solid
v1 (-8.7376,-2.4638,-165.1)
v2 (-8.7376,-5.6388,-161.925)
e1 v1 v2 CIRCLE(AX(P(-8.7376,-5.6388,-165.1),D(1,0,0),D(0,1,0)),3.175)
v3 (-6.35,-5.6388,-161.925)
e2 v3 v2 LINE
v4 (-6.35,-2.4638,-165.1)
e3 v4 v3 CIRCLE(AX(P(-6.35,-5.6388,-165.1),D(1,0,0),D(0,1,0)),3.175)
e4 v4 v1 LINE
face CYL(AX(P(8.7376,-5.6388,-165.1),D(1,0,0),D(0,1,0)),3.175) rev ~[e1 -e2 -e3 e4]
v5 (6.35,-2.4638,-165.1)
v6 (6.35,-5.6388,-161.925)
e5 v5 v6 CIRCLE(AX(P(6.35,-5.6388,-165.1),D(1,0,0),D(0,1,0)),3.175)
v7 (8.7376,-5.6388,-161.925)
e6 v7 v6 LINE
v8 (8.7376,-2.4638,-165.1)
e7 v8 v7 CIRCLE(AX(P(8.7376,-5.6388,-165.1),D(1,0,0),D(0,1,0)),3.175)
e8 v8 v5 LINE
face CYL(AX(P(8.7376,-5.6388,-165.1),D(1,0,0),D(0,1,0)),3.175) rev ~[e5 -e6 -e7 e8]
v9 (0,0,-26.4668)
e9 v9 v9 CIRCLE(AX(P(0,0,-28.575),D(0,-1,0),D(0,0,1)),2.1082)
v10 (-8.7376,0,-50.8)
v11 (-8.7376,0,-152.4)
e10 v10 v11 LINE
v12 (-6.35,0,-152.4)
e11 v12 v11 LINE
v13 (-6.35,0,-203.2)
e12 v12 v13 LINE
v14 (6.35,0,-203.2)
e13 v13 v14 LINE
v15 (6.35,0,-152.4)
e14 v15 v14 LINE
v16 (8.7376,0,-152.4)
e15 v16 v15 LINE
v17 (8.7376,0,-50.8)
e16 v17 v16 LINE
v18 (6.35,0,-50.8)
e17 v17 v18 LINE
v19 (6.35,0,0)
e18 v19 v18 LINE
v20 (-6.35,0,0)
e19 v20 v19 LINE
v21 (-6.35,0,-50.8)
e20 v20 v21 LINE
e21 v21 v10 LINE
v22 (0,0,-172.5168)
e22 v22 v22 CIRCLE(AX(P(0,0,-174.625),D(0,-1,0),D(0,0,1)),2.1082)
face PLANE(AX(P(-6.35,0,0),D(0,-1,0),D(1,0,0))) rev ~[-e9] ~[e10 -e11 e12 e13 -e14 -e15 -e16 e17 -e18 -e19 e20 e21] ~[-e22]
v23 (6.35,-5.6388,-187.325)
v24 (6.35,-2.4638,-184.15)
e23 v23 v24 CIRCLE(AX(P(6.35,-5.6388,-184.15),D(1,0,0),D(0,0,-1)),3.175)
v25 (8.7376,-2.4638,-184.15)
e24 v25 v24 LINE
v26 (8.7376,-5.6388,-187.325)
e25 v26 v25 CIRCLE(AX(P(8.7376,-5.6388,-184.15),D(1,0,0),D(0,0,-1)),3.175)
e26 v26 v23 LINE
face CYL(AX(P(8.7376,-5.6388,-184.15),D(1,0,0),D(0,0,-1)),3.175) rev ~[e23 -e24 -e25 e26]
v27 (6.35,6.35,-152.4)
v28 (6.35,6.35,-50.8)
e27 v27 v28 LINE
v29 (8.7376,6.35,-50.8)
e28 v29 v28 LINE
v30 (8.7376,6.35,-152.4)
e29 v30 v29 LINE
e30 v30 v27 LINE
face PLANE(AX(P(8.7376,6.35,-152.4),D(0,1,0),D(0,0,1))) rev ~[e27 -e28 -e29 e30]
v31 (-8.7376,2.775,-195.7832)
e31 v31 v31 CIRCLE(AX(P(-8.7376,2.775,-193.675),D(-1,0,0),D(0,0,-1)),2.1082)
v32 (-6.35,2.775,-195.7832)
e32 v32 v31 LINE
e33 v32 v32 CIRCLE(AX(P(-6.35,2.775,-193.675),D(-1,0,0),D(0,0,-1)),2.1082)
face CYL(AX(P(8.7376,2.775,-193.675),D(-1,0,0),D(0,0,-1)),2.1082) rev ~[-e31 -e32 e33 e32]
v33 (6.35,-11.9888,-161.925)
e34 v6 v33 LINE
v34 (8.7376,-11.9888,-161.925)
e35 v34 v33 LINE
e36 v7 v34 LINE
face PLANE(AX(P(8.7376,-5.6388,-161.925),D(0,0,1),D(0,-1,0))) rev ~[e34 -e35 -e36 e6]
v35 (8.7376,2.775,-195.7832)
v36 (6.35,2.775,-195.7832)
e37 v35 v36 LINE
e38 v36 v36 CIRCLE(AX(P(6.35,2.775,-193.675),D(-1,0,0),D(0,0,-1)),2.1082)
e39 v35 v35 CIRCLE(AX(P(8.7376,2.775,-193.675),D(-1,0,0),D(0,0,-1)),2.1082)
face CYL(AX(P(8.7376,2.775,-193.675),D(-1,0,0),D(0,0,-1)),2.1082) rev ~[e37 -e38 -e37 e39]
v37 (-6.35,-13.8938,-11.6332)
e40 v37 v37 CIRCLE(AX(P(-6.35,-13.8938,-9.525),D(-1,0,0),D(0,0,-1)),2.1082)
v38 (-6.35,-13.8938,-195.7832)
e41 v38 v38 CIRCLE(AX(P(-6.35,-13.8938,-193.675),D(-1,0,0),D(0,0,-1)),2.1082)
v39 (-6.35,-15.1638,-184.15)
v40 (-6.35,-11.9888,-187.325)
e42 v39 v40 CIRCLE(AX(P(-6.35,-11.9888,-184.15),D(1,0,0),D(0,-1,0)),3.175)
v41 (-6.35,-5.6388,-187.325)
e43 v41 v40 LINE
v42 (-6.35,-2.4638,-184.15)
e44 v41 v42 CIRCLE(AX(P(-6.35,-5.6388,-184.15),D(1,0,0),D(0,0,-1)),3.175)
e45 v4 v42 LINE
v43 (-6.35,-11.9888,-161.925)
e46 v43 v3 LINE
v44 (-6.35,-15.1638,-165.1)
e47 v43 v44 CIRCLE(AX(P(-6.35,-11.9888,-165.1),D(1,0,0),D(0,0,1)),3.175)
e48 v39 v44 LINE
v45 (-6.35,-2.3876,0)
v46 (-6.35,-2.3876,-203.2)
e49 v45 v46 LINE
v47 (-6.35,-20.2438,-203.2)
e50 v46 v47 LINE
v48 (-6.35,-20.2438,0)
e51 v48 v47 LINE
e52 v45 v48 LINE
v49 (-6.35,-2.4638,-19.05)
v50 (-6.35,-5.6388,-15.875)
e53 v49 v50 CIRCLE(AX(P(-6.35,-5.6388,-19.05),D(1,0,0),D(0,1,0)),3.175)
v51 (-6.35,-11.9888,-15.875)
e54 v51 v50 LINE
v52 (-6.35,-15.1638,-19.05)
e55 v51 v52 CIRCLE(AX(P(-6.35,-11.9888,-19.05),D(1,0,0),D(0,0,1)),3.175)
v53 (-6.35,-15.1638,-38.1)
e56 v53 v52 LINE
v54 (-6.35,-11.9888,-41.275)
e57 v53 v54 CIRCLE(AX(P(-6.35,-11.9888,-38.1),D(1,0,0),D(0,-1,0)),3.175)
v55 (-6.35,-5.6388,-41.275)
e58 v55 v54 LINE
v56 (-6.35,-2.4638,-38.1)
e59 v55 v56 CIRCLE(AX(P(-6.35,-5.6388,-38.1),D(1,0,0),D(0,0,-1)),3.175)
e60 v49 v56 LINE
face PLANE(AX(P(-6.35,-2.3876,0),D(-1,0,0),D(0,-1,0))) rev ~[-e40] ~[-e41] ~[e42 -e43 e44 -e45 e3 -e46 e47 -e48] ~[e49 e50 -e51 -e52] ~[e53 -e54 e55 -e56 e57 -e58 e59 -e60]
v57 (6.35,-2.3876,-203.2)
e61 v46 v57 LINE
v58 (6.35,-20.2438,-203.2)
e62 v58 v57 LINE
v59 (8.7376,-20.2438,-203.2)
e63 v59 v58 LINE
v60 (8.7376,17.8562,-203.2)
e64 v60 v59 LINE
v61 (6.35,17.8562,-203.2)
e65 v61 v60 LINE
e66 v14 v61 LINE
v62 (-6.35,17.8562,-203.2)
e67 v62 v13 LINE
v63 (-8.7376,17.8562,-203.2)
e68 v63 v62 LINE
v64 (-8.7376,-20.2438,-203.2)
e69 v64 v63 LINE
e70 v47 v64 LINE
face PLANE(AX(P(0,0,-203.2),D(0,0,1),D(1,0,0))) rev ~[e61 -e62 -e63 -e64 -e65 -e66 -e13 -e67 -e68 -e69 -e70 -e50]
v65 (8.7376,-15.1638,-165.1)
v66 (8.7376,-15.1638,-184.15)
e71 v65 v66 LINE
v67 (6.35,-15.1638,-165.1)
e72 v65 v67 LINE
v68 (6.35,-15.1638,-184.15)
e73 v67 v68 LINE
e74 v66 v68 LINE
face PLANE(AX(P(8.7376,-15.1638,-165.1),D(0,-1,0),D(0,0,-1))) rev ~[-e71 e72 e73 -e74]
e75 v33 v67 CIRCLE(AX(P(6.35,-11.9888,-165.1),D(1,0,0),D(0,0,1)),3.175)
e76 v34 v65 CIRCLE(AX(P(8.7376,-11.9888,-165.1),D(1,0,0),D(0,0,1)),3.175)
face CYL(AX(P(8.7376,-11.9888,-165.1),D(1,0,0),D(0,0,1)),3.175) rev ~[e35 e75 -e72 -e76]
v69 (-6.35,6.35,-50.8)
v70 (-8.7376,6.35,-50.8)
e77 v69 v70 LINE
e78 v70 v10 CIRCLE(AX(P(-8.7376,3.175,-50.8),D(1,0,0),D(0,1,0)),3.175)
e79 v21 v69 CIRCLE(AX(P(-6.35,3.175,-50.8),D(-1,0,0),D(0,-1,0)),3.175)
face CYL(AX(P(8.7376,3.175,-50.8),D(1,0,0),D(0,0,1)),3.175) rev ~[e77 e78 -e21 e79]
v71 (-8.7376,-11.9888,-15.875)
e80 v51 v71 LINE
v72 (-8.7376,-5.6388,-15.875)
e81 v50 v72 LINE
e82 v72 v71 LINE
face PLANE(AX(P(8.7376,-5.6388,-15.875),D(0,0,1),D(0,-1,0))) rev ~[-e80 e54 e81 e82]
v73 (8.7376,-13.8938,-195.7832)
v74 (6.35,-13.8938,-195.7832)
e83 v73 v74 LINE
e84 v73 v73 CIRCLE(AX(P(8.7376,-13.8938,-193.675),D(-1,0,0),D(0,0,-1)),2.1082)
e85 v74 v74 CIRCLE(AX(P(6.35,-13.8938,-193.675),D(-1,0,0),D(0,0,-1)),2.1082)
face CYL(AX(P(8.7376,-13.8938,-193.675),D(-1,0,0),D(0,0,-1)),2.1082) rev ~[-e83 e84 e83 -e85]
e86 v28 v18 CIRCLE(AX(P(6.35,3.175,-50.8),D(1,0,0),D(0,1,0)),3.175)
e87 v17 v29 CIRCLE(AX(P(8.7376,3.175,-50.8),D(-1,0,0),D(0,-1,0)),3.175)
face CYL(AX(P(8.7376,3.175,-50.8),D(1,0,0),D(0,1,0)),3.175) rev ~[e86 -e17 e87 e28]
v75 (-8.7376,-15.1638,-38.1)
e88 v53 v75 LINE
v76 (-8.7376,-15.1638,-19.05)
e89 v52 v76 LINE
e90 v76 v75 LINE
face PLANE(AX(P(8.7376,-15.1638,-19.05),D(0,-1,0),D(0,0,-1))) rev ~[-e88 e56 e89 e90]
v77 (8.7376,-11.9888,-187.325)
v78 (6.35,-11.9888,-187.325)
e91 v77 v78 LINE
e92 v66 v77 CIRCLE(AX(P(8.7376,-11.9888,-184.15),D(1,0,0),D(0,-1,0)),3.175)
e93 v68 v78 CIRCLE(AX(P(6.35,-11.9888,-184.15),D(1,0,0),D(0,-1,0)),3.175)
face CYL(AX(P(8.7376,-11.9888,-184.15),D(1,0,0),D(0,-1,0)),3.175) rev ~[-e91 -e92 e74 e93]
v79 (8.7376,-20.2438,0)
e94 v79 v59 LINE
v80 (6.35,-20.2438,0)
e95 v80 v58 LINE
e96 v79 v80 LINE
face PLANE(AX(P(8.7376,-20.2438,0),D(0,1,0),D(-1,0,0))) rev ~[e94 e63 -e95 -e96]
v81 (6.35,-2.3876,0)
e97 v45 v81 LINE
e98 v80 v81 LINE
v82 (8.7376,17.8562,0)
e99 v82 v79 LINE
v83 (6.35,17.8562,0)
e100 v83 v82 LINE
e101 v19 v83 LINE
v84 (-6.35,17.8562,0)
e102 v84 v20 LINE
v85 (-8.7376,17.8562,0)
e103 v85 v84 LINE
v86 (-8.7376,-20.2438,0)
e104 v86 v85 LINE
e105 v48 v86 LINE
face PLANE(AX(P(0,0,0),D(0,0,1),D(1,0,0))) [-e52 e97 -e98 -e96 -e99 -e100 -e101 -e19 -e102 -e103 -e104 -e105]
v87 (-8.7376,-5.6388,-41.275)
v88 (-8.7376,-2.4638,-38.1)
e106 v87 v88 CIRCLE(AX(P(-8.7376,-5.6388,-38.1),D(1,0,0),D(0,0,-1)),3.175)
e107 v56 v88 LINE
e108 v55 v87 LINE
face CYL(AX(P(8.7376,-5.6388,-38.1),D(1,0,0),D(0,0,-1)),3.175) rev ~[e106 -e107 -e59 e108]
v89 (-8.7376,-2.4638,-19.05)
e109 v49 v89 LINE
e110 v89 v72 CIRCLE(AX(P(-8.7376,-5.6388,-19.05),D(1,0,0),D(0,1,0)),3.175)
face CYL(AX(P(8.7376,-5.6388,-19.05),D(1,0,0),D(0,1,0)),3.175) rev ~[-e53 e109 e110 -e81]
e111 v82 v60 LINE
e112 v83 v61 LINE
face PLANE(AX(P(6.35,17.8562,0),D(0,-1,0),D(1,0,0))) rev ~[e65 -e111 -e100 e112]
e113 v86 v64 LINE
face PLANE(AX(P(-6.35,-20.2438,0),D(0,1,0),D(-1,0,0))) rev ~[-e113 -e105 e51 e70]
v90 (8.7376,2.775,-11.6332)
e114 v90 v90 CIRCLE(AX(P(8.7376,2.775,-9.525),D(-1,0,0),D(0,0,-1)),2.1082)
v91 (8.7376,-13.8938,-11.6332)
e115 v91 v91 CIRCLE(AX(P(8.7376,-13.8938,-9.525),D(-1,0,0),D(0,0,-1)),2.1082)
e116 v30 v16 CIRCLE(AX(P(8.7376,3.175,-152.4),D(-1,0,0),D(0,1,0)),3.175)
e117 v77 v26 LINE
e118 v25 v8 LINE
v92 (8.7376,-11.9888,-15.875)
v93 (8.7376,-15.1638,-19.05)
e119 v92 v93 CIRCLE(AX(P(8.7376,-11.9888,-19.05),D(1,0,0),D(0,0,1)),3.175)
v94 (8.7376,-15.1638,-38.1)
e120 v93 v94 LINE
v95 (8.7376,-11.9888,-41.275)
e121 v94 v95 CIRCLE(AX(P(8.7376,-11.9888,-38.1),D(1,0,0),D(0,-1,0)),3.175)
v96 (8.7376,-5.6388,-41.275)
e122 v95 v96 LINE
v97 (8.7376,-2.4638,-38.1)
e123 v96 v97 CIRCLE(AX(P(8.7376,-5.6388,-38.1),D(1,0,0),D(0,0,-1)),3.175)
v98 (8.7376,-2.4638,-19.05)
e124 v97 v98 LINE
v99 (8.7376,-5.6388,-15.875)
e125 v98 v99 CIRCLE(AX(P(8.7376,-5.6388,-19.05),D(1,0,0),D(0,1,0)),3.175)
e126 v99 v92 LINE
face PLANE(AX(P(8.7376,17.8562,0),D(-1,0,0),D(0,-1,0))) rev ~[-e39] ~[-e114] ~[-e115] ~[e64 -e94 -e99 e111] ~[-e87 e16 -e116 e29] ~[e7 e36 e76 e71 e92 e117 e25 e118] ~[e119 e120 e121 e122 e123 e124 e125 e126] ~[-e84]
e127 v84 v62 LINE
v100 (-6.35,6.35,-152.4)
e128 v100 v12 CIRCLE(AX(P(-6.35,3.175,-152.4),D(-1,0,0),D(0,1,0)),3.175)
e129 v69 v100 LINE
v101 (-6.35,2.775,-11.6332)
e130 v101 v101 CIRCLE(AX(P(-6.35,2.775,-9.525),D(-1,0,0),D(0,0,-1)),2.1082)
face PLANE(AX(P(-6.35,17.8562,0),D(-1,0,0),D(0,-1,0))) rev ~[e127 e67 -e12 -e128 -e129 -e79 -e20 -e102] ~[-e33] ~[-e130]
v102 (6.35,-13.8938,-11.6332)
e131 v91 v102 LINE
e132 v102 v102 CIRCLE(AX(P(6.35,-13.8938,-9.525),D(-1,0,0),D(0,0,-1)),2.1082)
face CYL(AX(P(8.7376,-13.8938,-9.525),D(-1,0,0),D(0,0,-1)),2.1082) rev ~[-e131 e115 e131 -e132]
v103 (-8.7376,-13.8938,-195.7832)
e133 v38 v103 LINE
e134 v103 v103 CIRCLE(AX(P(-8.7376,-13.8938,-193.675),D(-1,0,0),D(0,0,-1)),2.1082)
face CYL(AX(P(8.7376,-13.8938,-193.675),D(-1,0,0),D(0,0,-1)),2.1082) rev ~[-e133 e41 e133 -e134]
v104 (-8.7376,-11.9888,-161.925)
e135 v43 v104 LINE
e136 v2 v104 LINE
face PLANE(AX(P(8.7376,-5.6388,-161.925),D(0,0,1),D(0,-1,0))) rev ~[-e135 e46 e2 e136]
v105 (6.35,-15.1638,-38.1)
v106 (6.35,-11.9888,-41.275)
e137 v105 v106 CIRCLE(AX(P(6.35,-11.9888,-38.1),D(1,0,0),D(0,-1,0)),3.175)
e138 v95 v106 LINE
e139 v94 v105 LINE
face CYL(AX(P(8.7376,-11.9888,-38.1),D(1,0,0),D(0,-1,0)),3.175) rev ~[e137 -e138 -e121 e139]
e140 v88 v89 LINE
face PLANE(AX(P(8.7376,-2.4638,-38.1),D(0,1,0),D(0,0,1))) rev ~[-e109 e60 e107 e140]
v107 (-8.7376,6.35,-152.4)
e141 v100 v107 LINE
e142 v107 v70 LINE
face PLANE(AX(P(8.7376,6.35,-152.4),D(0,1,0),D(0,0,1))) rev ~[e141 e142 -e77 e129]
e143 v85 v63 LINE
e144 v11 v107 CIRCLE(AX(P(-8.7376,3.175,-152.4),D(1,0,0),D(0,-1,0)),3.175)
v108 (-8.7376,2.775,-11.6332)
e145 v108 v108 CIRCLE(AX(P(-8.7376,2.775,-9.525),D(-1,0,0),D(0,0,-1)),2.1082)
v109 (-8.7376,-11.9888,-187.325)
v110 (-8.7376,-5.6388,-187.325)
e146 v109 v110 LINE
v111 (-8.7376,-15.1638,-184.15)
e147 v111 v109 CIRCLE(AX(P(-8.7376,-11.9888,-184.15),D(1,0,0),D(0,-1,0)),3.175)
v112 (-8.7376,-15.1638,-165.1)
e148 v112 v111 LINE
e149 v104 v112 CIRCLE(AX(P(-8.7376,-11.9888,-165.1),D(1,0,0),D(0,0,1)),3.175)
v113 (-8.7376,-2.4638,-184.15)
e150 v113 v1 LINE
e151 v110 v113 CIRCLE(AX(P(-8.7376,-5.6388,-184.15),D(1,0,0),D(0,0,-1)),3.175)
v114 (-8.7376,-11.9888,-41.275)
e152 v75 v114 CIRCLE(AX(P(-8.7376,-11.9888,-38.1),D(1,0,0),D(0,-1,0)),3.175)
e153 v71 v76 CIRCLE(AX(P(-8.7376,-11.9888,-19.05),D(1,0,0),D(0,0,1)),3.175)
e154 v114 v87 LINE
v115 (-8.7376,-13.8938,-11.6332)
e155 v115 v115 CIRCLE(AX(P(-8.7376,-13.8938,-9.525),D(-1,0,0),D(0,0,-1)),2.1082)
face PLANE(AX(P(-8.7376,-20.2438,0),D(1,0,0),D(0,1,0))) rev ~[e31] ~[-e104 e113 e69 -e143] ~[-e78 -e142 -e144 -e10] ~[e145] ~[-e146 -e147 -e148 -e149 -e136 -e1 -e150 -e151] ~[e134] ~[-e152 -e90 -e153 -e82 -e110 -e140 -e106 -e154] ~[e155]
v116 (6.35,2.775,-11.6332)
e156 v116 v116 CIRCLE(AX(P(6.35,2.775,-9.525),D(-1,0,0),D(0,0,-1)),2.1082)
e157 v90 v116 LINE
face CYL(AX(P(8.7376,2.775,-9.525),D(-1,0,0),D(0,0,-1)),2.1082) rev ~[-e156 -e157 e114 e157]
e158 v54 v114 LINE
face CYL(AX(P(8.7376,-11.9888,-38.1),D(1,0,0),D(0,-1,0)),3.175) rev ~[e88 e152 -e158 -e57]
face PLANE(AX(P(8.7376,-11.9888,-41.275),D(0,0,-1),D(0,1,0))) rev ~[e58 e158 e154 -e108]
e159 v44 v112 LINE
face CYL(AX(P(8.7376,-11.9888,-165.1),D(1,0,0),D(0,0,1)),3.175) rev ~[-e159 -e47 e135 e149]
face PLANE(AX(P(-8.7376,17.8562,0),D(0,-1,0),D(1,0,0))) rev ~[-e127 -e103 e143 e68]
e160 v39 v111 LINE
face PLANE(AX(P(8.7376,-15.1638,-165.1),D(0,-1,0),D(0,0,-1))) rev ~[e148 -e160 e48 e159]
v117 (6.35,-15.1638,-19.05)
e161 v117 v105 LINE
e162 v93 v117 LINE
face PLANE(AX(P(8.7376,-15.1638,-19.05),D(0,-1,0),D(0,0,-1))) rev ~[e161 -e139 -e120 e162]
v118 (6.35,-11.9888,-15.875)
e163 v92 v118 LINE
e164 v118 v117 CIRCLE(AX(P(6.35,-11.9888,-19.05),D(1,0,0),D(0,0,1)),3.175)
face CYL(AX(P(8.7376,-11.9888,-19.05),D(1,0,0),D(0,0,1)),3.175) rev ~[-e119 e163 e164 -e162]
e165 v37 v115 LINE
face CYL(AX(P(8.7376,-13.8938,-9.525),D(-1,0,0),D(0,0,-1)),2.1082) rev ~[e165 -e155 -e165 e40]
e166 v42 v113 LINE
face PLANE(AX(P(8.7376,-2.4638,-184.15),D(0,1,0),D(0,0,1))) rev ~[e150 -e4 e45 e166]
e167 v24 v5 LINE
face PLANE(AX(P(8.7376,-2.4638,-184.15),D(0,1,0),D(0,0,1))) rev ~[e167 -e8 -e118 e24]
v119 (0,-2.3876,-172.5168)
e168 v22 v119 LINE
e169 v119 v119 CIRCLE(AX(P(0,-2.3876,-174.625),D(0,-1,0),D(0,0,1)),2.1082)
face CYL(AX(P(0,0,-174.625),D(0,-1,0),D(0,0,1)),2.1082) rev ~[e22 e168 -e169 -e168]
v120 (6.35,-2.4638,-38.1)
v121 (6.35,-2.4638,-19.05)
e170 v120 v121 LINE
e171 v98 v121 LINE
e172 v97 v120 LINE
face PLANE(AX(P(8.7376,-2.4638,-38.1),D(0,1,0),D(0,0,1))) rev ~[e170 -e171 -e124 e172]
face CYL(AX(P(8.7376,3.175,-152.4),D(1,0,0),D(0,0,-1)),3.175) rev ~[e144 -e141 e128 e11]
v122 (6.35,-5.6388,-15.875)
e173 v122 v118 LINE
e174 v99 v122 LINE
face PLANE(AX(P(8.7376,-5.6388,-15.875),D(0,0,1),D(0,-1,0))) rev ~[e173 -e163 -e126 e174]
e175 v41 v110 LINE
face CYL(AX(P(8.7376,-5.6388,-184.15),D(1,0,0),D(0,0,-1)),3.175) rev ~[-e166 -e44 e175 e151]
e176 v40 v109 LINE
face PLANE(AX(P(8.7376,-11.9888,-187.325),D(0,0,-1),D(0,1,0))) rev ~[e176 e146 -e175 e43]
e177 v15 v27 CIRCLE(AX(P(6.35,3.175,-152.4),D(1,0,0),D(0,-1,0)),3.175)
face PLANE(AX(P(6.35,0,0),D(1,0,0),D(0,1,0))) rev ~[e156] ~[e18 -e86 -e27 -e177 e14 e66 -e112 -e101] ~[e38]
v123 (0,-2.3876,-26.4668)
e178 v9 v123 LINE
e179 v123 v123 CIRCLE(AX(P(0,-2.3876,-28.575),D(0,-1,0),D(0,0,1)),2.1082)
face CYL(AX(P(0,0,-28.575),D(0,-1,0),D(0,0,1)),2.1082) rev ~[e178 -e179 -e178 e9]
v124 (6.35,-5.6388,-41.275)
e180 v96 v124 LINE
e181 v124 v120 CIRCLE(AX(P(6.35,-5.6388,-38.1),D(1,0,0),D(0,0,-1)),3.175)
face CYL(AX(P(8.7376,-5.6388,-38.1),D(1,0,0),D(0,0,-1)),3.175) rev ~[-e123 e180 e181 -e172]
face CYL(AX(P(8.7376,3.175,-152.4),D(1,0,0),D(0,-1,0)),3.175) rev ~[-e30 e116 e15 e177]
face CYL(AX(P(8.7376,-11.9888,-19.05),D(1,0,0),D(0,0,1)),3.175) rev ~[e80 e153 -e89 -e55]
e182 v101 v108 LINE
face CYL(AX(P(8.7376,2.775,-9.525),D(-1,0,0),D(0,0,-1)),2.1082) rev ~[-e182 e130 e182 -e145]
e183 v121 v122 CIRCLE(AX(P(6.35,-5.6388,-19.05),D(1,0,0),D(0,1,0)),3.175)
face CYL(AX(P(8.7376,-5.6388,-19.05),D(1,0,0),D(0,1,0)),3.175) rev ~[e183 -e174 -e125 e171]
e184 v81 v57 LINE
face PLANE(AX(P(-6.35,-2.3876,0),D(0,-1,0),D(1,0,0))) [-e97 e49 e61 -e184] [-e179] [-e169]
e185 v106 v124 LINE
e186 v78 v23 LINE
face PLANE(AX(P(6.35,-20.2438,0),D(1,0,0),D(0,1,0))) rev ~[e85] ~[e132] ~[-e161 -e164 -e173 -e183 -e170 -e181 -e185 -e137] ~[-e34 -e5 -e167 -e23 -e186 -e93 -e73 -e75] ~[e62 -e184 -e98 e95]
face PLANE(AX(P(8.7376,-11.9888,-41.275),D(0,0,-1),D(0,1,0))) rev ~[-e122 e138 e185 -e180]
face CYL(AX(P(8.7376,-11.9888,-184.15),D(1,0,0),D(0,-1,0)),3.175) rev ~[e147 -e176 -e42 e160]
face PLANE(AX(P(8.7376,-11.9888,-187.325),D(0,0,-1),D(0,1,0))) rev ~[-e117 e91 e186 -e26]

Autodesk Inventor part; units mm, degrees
ref_plane "YZ Plane" through (0, 0, 0) normal (1, 0, 0) x (0, 1, 0)
ref_plane "XZ Plane" through (0, 0, 0) normal (0, 1, 0) x (-1, 0, 0)
ref_plane "XY Plane" through (0, 0, 0) normal (0, 0, 1) x (1, 0, 0)
sketch "Sketch1" plane through (0, 0, 0) normal (0, 0, 1) x (1, 0, 0)
  line L0 (-6.35, 0) -> (6.35, 0)
  line L1 (-6.35, -2.3876) -> (6.35, -2.3876)
  line L2 (6.35, 0) -> (6.35, 17.8562)
  line L3 (6.35, 17.8562) -> (8.7376, 17.8562)
  line L4 (8.7376, 17.8562) -> (8.7376, -20.2438)
  line L5 (8.7376, -20.2438) -> (6.35, -20.2438)
  line L6 (6.35, -20.2438) -> (6.35, -2.3876)
  line L7 (-6.35, -2.3876) -> (-6.35, -20.2438)
  line L8 (-6.35, -20.2438) -> (-8.7376, -20.2438)
  line L9 (-8.7376, -20.2438) -> (-8.7376, 17.8562)
  line L10 (-8.7376, 17.8562) -> (-6.35, 17.8562)
  line L11 (-6.35, 17.8562) -> (-6.35, 0)
  point P0 (0, 0)
  point P1 (0, 0)
  dimension "d9" = 12.7
  dimension "d10" = 2.3876
  dimension "d11" = 17.8562
  dimension "d12" = 38.1
  dimension "d13" = 2.3876
  dimension "d14" = 2.3876
  dimension "d15" = 2.3876
  dimension "d16" = 17.8562
  dimension "d17" = 17.8562
extrude "Extrusion1" add sketch "Sketch1" against normal blind 203.2
sketch "Sketch2" plane through (8.7376, -20.2438, 0) normal (1, 0, 0) x (0, 0, -1)
  point P0 (0, 0)
  point P1 (9.525, 6.35)
  dimension "d20" = 9.525
  dimension "d21" = 6.35
hole "Hole1" at (8.7376, -13.8938, -9.525) direction (-1, 0, 0) diameter 4.2164 end through all
sketch "Sketch3" plane through (8.7376, -20.2438, 0) normal (1, 0, 0) x (0, 0, -1)
  point P0 (0, 38.1)
  point P1 (9.525, 23.0188)
  dimension "d29" = 15.0813
  dimension "d30" = 9.525
hole "Hole2" at (8.7376, 2.775, -9.525) direction (-1, 0, 0) diameter 4.2164 end through all
sketch "Sketch4" plane through (8.7376, -20.2438, 0) normal (1, 0, 0) x (0, 0, -1)
  circle A0 centre (9.525, 23.0188) radius 2.1082 projected
  circle A1 centre (9.525, 6.35) radius 2.1082 projected
  line L0 (0, 0) -> (203.2, 0) projected
  line L1 (0, 38.1) -> (203.2, 38.1) projected
  line L2 (101.6, 38.1) -> (101.6, 0) construction
  circle A2 centre (193.675, 23.0188) radius 2.1082
  circle A3 centre (193.675, 6.35) radius 2.1082
hole "Hole3" at (8.7376, 2.775, -193.675) at (8.7376, -13.8938, -193.675) direction (-1, 0, 0) diameter 4.2164 end through all
sketch "Sketch5" plane through (8.7376, -20.2438, 0) normal (1, 0, 0) x (0, 0, -1)
  line L0 (19.05, 5.08) -> (38.1, 5.08)
  line L1 (41.275, 8.255) -> (41.275, 14.605)
  line L2 (38.1, 17.78) -> (19.05, 17.78)
  line L3 (15.875, 14.605) -> (15.875, 8.255)
  arc A0 (19.05, 17.78) -> (15.875, 14.605) centre (19.05, 14.605) ccw
  arc A1 (41.275, 14.605) -> (38.1, 17.78) centre (38.1, 14.605) ccw
  arc A2 (38.1, 5.08) -> (41.275, 8.255) centre (38.1, 8.255) ccw
  arc A3 (15.875, 8.255) -> (19.05, 5.08) centre (19.05, 8.255) ccw
  point P0 (0, 0)
  point P1 (41.275, 17.78)
  point P2 (41.275, 5.08)
  point P3 (15.875, 17.78)
  point P4 (28.575, 17.78)
  point P5 (28.575, 17.78)
  dimension "d45" = 25.4
  dimension "d46" = 12.7
  dimension "d47" = 17.78
  dimension "d48" = 28.575
  dimension "d49" = 3.175
extrude "Extrusion2" cut sketch "Sketch5" against normal through all
sketch "Sketch6" plane through (8.7376, -20.2438, 0) normal (1, 0, 0) x (0, 0, -1)
  arc A0 (19.05, 17.78) -> (15.875, 14.605) centre (19.05, 14.605) ccw projected
  arc A1 (41.275, 14.605) -> (38.1, 17.78) centre (38.1, 14.605) ccw projected
  arc A2 (38.1, 5.08) -> (41.275, 8.255) centre (38.1, 8.255) ccw projected
  arc A3 (15.875, 8.255) -> (19.05, 5.08) centre (19.05, 8.255) ccw projected
  line L0 (101.6, 38.1) -> (101.6, 0) construction
  arc A4 (187.325, 14.605) -> (184.15, 17.78) centre (184.15, 14.605) ccw
  line L1 (184.15, 17.78) -> (165.1, 17.78)
  arc A5 (165.1, 17.78) -> (161.925, 14.605) centre (165.1, 14.605) ccw
  line L2 (161.925, 14.605) -> (161.925, 8.255)
  arc A6 (161.925, 8.255) -> (165.1, 5.08) centre (165.1, 8.255) ccw
  line L3 (165.1, 5.08) -> (184.15, 5.08)
  arc A7 (184.15, 5.08) -> (187.325, 8.255) centre (184.15, 8.255) ccw
  line L4 (187.325, 8.255) -> (187.325, 14.605)
extrude "Extrusion3" cut sketch "Sketch6" against normal through all
sketch "Sketch7" plane through (-6.35, 0, 0) normal (0, 1, 0) x (1, 0, 0)
  line L0 (15.0876, 19.05) -> (15.0876, 38.1) projected
  line L1 (-2.3876, 38.1) -> (-2.3876, 19.05) projected
  line L2 (-2.3876, 28.575) -> (15.0876, 28.575) construction
  line L3 (-2.3876, 28.575) -> (6.35, 28.575) construction
  dimension "d54" = 17.4752
hole "Hole4" at (0, 0, -28.575) direction (0, -1, 0) diameter 4.2164 end through all
sketch "Sketch8" plane through (-6.35, 0, 0) normal (0, 1, 0) x (1, 0, 0)
  circle A0 centre (6.35, 28.575) radius 2.1082 projected
  line L0 (0, 0) -> (0, 203.2) projected
  line L1 (15.0876, 101.6) -> (-2.2502, 101.6)
  circle A1 centre (6.35, 174.625) radius 2.1082
hole "Hole5" at (0, 0, -174.625) direction (0, -1, 0) diameter 4.2164 end through all
sketch "Sketch9" plane through (8.7376, -20.2438, 0) normal (1, 0, 0) x (0, 0, -1)
  line L0 (0, 20.2438) -> (203.2, 20.2438) projected
  line L1 (101.6, 38.1) -> (101.6, 0) construction
  line L2 (50.8, 20.2438) -> (152.4, 20.2438)
  line L3 (155.575, 23.4188) -> (155.575, 23.4188)
  line L4 (152.4, 26.5938) -> (50.8, 26.5938)
  line L5 (47.625, 23.4188) -> (47.625, 23.4188)
  arc A0 (50.8, 26.5938) -> (47.625, 23.4188) centre (50.8, 23.4188) ccw
  arc A1 (47.625, 23.4188) -> (50.8, 20.2438) centre (50.8, 23.4188) ccw
  arc A2 (155.575, 23.4188) -> (152.4, 26.5938) centre (152.4, 23.4188) ccw
  arc A3 (152.4, 20.2438) -> (155.575, 23.4188) centre (152.4, 23.4188) ccw
  point P0 (155.575, 26.5938)
  point P1 (155.575, 20.2438)
  point P2 (47.625, 26.5938)
  point P3 (101.6, 20.2438)
  dimension "d69" = 107.95
  dimension "d70" = 6.35
  dimension "d71" = 3.175
extrude "Extrusion4" cut sketch "Sketch9" against normal through all
equation "\"d13\" = d10"
equation "\"d14\" = d10"
equation "\"d15\" = d10"
equation "\"d16\" = d11"
equation "\"d17\" = d11"
properties part number "car frame"
